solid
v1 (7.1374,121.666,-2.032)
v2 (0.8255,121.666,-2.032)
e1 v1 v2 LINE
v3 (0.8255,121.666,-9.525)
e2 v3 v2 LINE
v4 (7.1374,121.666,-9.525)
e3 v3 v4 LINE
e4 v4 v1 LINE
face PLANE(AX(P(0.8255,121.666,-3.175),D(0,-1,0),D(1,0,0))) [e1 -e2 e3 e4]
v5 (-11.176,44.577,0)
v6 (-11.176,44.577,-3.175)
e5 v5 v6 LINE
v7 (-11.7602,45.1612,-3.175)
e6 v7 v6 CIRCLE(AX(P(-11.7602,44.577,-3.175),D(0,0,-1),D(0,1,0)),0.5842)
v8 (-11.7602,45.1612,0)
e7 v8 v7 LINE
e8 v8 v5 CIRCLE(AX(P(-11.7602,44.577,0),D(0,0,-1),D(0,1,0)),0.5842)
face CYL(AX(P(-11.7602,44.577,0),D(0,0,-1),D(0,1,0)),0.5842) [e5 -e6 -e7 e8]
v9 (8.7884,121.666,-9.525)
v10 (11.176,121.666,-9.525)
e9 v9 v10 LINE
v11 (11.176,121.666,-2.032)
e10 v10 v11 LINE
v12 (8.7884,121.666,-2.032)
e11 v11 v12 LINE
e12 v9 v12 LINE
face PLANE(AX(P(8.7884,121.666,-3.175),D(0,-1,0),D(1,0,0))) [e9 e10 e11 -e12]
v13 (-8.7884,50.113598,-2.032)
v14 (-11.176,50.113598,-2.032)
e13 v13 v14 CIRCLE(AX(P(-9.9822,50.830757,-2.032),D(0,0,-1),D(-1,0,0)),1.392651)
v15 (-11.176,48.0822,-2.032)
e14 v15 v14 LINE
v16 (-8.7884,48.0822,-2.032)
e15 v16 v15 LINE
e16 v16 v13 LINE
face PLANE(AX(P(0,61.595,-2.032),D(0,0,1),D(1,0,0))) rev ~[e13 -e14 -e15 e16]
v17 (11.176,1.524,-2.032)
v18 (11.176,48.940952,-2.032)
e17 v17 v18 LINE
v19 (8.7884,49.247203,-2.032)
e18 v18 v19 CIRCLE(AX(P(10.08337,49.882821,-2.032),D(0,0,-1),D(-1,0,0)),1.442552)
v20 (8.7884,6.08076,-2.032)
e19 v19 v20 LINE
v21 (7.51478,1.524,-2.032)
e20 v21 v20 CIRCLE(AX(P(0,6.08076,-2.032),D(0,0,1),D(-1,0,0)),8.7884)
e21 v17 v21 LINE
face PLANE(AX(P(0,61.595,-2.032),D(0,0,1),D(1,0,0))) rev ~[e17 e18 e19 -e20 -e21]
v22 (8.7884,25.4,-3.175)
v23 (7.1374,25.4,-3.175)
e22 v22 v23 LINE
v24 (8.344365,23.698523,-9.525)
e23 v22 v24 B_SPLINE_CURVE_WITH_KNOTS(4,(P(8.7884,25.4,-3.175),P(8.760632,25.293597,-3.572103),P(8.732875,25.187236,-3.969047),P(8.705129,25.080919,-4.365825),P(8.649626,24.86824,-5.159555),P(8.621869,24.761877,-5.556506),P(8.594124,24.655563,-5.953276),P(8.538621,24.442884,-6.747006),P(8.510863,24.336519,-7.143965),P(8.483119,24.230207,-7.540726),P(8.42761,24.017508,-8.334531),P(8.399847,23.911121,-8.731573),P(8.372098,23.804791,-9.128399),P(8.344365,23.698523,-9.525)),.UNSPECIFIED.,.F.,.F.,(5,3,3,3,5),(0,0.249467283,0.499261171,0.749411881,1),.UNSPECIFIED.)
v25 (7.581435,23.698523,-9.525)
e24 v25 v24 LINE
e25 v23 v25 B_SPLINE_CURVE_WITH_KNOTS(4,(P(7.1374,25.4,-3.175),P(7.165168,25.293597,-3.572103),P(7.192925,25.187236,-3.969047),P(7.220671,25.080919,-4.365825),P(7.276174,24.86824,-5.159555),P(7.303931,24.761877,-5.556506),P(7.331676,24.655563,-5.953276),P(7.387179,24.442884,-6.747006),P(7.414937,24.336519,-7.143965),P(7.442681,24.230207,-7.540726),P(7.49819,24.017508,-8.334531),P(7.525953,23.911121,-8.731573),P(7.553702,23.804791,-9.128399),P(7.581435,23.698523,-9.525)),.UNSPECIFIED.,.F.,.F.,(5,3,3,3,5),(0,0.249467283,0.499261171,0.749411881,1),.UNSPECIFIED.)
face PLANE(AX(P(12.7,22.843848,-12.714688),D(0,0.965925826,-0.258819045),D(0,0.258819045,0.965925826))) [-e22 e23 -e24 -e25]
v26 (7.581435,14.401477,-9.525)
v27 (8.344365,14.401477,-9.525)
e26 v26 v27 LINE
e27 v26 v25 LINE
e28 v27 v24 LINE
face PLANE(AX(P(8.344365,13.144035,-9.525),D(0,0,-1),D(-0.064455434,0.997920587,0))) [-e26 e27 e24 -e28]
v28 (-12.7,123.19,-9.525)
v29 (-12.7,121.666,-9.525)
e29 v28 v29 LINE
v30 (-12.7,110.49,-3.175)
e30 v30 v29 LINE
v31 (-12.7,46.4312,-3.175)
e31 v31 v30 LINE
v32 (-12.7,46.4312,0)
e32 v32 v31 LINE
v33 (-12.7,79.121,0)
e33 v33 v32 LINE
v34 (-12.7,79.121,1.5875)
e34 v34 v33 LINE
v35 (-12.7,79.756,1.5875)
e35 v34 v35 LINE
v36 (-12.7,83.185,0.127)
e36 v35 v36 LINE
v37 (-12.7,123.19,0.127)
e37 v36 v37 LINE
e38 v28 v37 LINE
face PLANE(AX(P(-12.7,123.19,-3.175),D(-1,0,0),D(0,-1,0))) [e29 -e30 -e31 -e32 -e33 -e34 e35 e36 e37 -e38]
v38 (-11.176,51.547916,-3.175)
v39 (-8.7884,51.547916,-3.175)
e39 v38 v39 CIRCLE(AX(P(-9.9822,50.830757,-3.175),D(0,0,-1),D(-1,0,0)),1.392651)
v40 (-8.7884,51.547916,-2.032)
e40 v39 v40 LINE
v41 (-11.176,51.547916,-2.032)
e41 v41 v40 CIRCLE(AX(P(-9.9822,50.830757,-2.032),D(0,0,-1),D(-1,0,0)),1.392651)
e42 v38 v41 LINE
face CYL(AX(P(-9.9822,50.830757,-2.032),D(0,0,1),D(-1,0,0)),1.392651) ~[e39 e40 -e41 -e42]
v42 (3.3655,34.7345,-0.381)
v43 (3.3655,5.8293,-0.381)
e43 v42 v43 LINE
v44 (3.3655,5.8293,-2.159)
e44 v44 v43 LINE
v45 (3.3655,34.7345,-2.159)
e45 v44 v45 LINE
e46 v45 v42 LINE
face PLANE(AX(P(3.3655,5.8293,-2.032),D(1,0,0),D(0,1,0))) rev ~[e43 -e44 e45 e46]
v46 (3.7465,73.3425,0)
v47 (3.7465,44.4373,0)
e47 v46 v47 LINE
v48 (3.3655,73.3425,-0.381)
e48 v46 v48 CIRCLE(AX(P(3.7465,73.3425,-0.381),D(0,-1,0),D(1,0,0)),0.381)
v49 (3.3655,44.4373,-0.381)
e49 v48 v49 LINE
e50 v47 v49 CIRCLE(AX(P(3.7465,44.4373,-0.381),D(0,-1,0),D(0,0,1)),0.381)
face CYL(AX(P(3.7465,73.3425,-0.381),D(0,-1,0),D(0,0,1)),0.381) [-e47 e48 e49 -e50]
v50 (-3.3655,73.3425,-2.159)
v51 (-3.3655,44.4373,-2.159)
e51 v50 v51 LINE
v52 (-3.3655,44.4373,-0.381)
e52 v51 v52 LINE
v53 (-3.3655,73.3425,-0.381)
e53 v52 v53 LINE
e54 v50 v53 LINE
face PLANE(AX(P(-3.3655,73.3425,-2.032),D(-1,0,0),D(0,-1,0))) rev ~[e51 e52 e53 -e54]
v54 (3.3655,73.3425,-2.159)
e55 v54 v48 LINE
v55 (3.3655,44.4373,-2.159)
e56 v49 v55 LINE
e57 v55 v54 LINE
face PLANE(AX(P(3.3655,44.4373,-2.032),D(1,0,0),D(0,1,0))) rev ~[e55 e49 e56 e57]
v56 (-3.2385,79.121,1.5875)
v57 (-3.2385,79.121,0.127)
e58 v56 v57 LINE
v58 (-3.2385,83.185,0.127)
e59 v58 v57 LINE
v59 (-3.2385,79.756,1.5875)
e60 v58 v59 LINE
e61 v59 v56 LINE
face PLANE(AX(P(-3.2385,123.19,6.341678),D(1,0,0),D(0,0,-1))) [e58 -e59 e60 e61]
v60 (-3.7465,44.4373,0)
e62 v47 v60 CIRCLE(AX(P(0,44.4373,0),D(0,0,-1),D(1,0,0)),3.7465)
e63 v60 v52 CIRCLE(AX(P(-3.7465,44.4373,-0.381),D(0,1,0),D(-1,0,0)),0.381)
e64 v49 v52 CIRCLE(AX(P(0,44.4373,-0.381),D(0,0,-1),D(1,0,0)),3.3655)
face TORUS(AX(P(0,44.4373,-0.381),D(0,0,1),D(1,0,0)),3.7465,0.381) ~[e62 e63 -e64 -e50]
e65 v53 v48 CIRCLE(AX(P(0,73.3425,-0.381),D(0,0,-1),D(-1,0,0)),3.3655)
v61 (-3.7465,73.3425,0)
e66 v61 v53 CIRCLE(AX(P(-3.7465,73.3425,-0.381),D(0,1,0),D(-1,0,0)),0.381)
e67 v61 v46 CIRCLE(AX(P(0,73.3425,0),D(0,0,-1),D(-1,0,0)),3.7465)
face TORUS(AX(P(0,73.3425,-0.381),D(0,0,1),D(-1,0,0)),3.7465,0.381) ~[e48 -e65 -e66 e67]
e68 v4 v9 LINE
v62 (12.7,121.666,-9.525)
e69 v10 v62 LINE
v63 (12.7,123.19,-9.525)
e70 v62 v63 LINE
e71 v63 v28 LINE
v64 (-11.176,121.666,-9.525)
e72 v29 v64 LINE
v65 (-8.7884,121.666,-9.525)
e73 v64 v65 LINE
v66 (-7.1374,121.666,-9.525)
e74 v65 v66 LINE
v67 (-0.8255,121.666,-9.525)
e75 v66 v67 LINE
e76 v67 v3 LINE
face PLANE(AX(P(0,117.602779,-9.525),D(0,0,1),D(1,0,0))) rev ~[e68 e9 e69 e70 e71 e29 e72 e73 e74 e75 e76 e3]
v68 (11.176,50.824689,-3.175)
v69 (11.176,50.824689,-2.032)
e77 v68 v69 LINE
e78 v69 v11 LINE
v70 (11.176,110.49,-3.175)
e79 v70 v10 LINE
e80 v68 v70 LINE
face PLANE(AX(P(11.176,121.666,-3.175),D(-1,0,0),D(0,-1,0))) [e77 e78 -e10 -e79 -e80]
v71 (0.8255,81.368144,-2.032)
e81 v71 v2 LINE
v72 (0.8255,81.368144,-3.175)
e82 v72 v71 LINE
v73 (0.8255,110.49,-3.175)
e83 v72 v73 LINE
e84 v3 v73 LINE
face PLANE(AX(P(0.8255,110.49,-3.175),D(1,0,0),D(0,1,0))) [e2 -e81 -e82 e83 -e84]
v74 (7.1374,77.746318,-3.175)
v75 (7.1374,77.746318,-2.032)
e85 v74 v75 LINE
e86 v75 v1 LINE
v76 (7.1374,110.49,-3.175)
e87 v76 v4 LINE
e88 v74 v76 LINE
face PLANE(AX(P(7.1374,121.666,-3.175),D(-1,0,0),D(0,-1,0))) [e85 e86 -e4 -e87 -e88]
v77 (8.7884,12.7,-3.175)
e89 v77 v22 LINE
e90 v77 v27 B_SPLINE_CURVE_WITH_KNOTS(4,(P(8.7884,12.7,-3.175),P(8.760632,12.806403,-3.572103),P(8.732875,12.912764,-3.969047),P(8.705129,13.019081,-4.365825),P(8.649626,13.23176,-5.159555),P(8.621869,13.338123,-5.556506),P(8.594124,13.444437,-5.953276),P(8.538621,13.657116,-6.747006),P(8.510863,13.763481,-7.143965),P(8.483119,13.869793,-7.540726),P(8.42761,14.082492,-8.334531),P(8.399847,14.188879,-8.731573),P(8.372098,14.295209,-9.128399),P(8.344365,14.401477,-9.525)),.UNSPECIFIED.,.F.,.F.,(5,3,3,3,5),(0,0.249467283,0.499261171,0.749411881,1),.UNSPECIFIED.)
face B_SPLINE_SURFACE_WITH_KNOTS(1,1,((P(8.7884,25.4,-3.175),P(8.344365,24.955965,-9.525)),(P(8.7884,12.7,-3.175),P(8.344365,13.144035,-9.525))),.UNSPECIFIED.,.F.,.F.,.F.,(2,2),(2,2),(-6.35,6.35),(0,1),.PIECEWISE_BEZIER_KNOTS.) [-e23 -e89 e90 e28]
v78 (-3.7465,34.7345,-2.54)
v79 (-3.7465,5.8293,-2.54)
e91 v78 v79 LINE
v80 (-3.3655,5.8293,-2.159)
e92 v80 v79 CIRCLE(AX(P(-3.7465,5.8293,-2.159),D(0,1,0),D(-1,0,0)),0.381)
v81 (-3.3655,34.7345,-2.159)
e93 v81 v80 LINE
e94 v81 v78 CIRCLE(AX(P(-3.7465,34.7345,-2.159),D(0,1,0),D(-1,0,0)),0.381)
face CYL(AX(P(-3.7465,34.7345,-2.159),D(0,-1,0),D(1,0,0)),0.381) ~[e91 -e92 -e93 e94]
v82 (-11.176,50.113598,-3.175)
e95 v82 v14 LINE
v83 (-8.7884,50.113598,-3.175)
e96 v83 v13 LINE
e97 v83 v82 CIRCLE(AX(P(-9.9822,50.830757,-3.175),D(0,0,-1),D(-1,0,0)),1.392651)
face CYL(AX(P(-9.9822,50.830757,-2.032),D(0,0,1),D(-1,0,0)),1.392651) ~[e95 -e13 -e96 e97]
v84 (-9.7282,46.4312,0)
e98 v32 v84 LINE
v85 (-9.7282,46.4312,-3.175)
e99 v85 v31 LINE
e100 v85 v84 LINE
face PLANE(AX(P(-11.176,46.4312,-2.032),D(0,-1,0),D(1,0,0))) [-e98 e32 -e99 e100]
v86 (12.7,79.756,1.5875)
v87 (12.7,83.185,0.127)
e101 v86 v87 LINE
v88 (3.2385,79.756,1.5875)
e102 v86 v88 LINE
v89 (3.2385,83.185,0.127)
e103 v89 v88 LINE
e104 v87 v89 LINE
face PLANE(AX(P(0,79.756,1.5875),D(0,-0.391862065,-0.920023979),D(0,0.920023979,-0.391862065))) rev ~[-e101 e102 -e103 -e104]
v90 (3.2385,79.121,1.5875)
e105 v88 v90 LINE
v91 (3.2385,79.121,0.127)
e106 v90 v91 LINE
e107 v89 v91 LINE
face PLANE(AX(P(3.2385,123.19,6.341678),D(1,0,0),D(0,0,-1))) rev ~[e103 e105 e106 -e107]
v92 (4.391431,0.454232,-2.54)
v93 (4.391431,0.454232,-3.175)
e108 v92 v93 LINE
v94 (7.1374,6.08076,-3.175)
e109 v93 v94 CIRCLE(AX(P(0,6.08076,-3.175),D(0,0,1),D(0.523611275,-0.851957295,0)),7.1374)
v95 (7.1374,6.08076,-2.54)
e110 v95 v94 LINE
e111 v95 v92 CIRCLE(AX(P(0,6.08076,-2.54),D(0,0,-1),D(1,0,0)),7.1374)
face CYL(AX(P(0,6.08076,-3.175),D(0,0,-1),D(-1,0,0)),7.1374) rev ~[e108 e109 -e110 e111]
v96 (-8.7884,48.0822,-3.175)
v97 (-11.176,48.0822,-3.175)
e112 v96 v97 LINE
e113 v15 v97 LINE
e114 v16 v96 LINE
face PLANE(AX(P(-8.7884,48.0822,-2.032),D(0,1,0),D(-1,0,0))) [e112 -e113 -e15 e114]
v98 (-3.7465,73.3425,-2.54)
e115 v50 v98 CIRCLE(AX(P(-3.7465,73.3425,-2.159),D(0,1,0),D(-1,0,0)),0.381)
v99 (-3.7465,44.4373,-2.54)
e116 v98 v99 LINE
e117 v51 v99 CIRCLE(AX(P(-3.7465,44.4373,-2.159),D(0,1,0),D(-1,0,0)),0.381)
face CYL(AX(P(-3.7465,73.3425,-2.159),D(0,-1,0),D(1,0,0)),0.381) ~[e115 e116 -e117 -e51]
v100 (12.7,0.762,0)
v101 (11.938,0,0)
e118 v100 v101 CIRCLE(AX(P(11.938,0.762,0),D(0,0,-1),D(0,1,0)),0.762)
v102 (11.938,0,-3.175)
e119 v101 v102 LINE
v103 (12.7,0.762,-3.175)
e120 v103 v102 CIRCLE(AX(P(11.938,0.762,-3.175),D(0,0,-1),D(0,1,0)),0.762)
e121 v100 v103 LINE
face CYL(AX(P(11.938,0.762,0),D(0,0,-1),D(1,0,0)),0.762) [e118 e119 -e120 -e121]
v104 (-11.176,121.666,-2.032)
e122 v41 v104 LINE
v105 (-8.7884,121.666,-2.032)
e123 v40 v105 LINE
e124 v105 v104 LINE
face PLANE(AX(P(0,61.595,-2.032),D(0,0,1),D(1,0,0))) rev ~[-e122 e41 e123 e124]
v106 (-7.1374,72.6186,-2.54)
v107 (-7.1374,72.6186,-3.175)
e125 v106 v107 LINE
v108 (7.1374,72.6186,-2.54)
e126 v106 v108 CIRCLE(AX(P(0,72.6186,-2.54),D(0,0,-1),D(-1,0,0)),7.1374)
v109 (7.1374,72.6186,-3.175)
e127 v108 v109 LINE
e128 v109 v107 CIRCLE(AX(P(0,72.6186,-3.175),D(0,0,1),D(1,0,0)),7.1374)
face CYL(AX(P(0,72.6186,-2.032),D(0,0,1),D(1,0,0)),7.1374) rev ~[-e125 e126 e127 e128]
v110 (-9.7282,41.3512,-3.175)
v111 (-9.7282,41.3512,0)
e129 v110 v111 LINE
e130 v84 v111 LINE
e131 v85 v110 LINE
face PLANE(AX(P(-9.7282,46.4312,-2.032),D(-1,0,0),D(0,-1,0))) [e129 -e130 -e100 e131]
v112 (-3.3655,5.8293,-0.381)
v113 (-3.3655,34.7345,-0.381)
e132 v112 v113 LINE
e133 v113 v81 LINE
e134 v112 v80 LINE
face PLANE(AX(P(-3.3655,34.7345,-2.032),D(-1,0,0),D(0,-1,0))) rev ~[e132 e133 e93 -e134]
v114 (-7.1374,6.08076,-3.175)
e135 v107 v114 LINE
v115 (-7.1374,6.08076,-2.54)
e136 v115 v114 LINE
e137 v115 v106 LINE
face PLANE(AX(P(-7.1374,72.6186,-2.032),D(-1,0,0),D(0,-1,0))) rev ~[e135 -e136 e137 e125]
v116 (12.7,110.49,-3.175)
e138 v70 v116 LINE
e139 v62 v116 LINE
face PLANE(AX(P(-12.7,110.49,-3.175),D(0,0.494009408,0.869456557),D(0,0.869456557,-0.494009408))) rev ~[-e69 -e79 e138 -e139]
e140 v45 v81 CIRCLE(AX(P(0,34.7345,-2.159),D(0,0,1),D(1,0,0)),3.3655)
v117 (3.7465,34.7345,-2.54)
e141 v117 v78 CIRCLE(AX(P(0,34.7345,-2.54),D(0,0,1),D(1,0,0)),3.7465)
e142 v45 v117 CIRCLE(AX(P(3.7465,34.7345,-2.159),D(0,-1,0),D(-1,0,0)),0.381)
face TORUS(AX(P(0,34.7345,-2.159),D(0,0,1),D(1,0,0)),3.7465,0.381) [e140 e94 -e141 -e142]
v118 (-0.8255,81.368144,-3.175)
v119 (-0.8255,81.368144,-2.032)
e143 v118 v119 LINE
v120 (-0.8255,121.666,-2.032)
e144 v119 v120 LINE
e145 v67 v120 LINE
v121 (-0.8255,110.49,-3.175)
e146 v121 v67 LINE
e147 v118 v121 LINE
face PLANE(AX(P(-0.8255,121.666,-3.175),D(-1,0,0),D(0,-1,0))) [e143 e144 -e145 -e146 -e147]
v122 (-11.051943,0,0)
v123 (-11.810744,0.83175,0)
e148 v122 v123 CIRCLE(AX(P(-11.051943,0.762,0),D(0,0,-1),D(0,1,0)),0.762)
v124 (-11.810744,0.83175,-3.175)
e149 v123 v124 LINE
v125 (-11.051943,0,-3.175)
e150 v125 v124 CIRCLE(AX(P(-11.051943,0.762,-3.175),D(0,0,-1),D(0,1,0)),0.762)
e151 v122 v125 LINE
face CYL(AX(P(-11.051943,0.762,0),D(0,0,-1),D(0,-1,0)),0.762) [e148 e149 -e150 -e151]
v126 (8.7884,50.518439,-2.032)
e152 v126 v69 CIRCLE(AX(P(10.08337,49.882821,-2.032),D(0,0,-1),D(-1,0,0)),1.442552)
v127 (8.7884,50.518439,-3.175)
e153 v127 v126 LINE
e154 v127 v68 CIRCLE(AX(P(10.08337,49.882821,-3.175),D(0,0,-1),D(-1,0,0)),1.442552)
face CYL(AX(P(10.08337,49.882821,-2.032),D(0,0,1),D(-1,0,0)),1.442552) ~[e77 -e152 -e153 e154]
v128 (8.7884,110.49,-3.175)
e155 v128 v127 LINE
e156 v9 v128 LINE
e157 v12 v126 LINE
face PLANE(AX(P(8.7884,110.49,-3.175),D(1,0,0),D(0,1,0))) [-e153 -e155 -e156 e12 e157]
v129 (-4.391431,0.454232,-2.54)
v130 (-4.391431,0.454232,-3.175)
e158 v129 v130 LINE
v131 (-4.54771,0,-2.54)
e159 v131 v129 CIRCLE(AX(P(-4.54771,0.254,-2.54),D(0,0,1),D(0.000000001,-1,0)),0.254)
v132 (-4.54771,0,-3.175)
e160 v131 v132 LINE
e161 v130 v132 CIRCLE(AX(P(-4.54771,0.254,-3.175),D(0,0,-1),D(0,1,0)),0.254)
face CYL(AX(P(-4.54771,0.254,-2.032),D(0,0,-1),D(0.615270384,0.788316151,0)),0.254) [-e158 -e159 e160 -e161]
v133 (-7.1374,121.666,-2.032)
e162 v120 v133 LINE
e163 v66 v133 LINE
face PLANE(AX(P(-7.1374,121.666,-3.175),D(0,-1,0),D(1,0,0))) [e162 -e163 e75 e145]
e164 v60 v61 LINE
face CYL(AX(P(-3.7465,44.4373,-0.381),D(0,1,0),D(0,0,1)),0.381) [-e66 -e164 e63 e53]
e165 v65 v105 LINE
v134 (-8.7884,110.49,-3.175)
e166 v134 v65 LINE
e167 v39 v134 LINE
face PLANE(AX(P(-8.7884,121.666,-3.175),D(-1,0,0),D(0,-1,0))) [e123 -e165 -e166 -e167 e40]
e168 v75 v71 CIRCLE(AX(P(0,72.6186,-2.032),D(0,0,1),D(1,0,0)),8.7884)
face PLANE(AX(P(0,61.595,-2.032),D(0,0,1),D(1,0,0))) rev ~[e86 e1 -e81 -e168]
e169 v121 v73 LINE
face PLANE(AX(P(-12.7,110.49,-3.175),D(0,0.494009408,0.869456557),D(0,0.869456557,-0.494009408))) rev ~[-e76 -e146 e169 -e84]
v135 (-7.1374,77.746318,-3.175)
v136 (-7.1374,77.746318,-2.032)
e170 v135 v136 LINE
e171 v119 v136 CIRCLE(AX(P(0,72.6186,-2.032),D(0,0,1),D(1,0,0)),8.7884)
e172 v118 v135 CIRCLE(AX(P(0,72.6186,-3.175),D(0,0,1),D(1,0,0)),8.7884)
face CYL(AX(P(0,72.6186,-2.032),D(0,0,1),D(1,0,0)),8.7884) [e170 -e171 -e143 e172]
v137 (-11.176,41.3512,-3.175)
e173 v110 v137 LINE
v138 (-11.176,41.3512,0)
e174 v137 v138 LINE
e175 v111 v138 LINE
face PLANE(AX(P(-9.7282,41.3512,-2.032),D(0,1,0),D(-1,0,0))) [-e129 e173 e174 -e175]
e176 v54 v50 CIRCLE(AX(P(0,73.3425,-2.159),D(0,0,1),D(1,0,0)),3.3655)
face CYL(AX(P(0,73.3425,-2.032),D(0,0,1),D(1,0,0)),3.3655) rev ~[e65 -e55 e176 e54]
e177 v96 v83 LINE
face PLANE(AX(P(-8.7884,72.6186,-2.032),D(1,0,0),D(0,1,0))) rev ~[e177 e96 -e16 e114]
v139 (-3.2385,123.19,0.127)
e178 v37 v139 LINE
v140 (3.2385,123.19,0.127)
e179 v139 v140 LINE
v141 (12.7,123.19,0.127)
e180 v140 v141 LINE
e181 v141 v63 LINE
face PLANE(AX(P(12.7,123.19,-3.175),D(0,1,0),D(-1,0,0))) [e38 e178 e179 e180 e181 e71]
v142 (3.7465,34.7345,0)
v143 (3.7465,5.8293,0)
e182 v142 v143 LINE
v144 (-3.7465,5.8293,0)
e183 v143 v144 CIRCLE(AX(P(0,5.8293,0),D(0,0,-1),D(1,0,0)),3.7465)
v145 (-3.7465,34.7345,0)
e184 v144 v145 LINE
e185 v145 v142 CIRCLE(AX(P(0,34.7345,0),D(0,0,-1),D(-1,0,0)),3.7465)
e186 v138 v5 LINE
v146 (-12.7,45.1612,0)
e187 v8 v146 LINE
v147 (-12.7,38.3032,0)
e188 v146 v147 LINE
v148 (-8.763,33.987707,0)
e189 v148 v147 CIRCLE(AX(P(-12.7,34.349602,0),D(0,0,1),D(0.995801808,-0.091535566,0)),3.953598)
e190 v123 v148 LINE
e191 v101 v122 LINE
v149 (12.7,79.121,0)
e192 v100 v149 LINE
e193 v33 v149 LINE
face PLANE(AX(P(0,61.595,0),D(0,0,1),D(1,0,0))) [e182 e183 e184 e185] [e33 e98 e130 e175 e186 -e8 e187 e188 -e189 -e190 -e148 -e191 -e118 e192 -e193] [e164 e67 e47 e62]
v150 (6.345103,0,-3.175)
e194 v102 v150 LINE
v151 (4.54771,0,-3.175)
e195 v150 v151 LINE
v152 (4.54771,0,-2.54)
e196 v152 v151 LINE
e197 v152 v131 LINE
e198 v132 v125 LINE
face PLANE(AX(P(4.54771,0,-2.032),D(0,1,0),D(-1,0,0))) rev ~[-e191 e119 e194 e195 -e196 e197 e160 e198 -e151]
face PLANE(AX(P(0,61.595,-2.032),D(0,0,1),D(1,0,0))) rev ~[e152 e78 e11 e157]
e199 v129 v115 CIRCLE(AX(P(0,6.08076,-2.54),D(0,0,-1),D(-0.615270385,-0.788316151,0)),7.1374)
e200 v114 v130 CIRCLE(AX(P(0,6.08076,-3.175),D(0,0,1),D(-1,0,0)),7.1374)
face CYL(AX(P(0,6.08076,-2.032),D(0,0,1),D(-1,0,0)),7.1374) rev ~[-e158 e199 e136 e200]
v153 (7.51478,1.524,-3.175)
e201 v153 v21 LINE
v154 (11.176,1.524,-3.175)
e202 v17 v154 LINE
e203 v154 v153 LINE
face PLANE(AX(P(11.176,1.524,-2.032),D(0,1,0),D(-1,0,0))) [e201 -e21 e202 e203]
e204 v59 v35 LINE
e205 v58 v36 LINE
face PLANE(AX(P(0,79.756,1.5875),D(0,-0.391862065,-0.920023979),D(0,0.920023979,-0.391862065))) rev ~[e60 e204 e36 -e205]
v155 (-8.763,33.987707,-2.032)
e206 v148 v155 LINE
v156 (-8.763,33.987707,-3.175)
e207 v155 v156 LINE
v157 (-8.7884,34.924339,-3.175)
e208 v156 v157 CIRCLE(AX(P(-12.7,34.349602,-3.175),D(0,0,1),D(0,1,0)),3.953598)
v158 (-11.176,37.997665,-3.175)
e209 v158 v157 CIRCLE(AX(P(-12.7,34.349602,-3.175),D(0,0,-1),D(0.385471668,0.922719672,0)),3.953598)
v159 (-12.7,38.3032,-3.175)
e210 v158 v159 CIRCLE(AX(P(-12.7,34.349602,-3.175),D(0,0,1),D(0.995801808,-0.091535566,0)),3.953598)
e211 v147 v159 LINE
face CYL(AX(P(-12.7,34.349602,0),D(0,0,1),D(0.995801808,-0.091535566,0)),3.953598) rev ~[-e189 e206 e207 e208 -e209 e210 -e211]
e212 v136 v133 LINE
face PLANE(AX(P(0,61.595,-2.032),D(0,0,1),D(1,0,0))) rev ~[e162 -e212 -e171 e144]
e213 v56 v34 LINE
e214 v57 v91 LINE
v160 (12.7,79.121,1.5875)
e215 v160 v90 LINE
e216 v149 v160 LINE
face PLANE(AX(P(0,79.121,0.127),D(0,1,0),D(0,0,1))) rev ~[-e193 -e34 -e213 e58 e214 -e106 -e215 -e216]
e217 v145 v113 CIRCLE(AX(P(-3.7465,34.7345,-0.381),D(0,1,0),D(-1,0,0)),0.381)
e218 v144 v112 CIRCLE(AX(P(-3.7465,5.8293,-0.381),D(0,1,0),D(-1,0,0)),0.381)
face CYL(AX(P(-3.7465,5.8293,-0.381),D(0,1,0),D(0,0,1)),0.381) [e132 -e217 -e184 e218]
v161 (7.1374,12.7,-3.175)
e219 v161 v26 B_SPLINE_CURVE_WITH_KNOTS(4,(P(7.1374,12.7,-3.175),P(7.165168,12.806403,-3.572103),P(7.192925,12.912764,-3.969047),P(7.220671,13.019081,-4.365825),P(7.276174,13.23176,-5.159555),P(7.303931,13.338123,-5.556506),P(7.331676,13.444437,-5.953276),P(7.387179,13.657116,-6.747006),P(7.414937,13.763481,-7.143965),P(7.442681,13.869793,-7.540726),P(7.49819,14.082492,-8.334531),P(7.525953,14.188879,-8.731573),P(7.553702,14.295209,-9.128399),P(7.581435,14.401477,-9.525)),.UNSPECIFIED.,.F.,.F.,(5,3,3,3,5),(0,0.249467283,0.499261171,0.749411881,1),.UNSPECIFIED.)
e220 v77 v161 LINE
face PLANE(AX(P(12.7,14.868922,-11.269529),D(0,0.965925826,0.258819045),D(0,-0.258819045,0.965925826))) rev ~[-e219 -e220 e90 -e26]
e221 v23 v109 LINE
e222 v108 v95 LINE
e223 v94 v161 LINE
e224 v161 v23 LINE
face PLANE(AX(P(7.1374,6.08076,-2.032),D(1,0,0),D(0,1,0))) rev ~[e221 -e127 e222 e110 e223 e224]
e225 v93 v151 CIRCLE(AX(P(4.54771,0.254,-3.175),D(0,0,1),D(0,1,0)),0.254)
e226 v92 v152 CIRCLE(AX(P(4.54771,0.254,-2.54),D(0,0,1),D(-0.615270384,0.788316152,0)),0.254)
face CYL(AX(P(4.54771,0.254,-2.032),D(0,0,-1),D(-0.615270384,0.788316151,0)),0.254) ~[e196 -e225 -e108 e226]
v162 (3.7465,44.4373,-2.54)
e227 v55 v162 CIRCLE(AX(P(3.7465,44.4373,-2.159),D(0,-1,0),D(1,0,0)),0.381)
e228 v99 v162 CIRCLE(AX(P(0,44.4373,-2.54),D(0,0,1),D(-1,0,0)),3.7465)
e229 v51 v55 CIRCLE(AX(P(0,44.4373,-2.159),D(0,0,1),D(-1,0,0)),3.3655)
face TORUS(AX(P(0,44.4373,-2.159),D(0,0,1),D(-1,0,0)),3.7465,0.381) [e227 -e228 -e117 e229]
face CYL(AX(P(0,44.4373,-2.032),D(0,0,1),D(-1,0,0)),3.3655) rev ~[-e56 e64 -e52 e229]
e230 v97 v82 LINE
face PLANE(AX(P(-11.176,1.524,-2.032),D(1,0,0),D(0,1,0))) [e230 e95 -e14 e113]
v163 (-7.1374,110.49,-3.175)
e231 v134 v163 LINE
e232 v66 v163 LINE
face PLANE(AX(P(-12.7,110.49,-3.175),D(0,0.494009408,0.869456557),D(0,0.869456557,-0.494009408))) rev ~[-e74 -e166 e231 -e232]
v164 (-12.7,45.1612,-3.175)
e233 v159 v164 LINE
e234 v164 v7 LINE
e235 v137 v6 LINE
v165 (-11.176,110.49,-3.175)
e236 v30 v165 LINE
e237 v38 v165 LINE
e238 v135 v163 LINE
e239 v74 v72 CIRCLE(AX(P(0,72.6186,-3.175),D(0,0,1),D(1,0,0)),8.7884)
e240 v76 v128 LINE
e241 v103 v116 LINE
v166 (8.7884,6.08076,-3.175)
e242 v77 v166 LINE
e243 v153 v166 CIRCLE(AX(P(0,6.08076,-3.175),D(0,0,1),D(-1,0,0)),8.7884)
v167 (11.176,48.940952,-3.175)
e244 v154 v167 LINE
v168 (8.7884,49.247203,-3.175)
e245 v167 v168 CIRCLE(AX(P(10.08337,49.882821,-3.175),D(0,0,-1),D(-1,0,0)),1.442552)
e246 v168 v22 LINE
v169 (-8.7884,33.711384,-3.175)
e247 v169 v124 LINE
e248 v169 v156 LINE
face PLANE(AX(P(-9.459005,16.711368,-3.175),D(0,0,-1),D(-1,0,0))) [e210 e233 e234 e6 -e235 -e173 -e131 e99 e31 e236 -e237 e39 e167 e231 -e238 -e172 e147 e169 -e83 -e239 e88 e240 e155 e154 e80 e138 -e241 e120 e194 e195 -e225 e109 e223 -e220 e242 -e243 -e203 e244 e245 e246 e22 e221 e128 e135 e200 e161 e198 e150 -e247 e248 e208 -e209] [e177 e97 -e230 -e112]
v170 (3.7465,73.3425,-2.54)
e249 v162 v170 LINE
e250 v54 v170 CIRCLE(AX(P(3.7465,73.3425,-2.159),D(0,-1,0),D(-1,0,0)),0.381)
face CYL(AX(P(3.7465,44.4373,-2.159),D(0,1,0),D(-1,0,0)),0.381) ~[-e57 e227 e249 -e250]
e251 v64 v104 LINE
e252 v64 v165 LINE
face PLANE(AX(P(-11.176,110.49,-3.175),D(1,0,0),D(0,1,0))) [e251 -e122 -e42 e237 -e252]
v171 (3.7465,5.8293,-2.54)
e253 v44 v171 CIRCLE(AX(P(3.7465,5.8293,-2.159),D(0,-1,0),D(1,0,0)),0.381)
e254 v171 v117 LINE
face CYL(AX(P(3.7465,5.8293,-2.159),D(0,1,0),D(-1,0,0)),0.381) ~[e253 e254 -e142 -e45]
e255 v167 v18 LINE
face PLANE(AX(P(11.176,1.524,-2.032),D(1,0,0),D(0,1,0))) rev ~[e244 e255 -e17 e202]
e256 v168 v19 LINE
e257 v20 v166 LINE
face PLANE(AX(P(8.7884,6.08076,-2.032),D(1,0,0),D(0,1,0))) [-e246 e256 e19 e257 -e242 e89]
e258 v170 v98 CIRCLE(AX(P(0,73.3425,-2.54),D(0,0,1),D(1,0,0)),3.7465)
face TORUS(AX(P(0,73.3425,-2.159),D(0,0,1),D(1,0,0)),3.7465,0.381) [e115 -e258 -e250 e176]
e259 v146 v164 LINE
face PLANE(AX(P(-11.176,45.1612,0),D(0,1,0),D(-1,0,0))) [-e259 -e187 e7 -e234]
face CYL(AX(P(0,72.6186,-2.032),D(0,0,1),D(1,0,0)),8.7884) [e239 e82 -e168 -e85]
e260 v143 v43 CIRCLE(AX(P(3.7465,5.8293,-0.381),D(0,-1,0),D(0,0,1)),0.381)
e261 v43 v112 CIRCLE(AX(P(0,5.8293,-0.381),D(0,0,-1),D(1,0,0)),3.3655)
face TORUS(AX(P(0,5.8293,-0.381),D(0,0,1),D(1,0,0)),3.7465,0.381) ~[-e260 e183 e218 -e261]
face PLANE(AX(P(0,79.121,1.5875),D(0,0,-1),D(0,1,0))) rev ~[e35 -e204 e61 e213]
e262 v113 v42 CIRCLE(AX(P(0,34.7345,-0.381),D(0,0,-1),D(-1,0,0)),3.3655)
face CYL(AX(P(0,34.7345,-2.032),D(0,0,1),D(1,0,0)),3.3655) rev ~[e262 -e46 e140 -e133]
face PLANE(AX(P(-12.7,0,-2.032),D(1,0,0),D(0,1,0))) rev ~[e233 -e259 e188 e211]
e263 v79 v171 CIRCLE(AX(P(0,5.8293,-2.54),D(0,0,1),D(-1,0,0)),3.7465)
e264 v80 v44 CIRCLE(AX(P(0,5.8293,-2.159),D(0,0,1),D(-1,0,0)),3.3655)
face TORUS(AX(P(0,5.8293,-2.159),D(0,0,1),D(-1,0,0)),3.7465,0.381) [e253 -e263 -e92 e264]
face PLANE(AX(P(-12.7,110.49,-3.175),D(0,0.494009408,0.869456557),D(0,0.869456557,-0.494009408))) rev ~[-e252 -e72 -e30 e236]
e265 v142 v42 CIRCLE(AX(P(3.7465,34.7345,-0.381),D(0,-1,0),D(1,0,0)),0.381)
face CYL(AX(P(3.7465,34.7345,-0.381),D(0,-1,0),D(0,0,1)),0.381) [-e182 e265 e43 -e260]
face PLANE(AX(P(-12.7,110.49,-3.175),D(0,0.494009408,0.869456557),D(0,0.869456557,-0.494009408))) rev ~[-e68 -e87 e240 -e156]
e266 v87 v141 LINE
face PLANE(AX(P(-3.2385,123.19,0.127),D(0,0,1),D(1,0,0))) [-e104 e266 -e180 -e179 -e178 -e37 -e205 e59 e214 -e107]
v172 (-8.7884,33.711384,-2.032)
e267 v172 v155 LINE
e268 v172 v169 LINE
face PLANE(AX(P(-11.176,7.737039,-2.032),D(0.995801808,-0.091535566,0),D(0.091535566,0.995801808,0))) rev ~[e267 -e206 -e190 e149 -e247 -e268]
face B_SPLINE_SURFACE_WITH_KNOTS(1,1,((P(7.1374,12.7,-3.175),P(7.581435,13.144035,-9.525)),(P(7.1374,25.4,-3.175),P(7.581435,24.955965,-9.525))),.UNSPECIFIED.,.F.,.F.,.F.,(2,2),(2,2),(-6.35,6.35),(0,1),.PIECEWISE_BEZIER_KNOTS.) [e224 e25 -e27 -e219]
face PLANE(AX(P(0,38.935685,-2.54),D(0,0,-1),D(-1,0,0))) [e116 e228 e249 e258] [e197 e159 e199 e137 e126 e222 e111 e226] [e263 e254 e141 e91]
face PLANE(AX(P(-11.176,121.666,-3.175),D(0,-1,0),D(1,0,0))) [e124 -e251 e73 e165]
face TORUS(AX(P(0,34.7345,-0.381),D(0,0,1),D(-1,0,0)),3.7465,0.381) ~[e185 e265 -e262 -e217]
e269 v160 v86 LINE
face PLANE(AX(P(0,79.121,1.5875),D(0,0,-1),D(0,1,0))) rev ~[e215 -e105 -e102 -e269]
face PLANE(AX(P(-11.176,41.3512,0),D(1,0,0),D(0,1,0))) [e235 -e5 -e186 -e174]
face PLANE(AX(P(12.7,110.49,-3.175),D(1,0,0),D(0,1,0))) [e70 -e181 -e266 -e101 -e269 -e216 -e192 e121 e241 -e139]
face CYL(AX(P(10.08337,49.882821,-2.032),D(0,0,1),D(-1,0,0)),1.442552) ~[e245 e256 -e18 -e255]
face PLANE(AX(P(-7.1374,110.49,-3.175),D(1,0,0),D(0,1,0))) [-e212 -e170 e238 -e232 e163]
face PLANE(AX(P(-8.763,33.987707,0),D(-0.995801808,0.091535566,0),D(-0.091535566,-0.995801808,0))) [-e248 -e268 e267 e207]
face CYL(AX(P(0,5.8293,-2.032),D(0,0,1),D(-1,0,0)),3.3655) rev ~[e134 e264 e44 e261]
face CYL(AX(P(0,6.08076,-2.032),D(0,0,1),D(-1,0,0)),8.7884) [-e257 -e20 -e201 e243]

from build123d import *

# Parameters (mm, degrees)
SKETCH1_W                       = 25.4
SKETCH1_H                       = 123.19
BOSS_EXTRUDE1_DEPTH             = 2.032
SKETCH2_W                       = 25.4
SKETCH2_H                       = 123.19
SKETCH2_W_2                     = 22.352
SKETCH2_H_2                     = 120.142
EXTRUDE_THIN1_DEPTH             = 1.143
CUT_EXTRUDE1_DEPTH              = 4.175
LPATTERN1_COUNT                 = 2
LPATTERN1_PITCH                 = 38.608
CUT_EXTRUDE2_DEPTH              = 1
CUT_EXTRUDE2_DEPTH_BACK         = 4.175
CUT_EXTRUDE3_DEPTH              = 4.175
BOSS_EXTRUDE2_DEPTH             = 1.143
SKETCH7_W                       = 13.647669968
SKETCH7_H                       = 4.198946773
CUT_EXTRUDE4_DEPTH              = 4.175
SKETCH8_R                       = 7.1374
CUT_EXTRUDE5_DEPTH              = 1.143
FILLET1_R                       = 0.254
BOSS_EXTRUDE3_DEPTH             = 0.508
BOSS_EXTRUDE4_DEPTH             = 1.143
SKETCH11_W                      = 1.651
SKETCH11_H                      = 49.0474
BOSS_EXTRUDE5_DEPTH             = 1.143
SKETCH12_W                      = 1.651
SKETCH12_H                      = 41.14187935
EXTRUDE_THIN4_DEPTH             = 1.143
SKETCH13_R                      = 1.392650684
SKETCH13_R_2                    = 1.442552173
BOSS_EXTRUDE6_DEPTH             = 1.143
BOSS_EXTRUDE7_DEPTH             = 1.143
FILLET2_R                       = 0.381
SKETCH15_W                      = 25.4
SKETCH15_H                      = 44.069
BOSS_EXTRUDE8_DEPTH             = 0.127
BOSS_EXTRUDE9_REACH             = 14.7
BOSS_EXTRUDE9_DIRECTION_2_REACH = 14.7
SKETCH17_W                      = 6.477
SKETCH17_H                      = 6.214678049
CUT_EXTRUDE6_DEPTH              = 124.19
FILLET3_R                       = 0.5842
SKETCH18_W                      = 1.651
SKETCH18_H                      = 12.7
BOSS_EXTRUDE11_DEPTH            = 6.35
BOSS_EXTRUDE11_TAPER            = 4
CUT_EXTRUDE7_DEPTH              = 26.4
FILLET4_R                       = 0.762
CUT_EXTRUDE8_DEPTH              = 2.5875
CUT_EXTRUDE8_DEPTH_BACK         = 10.5250001
BOSS_EXTRUDE12_DEPTH            = 6.35
CUT_EXTRUDE9_DEPTH              = 26.4


with BuildPart() as part:
    # Sketch1 → Boss-Extrude1 (new body)
    with BuildSketch(Plane.XY):
        with Locations((0, 61.595)):
            Rectangle(SKETCH1_W, SKETCH1_H)
    extrude(amount=-BOSS_EXTRUDE1_DEPTH)

    # Sketch2 → Extrude-Thin1 (add)
    with BuildSketch(Plane(origin=(0, 0, -2.032), x_dir=(-1, 0, 0), z_dir=(0, 0, -1))):
        with Locations((0, 61.595)):
            Rectangle(SKETCH2_W, SKETCH2_H)
        with Locations((0, 61.595)):
            Rectangle(SKETCH2_W_2, SKETCH2_H_2, mode=Mode.SUBTRACT)
    extrude(amount=EXTRUDE_THIN1_DEPTH)

    # Sketch3 → Cut-Extrude1 (cut, through all)
    with BuildSketch(Plane.XY):
        with BuildLine():
            Line((3.3655, 34.7345), (3.3655, 5.8293))
            ThreePointArc((3.3655, 5.8293), (0, 2.4638), (-3.3655, 5.8293))
            Line((-3.3655, 5.8293), (-3.3655, 34.7345))
            ThreePointArc((-3.3655, 34.7345), (0, 38.1), (3.3655, 34.7345))
        make_face()
    cut_extrude1 = extrude(amount=-CUT_EXTRUDE1_DEPTH, mode=Mode.SUBTRACT)

    # LPattern1: Cut-Extrude1 ×2
    with Locations(*[(0, i * LPATTERN1_PITCH, 0) for i in range(1, LPATTERN1_COUNT)]):
        add(cut_extrude1, mode=Mode.SUBTRACT)

    # Sketch4 → Cut-Extrude2 (cut, two sides)
    with BuildSketch(Plane.XY) as cut_extrude2_sk:
        with BuildLine():
            Line((-35.799894433, -260.142646751), (-11.8872, 0))
            Line((-11.8872, 0), (-8.763, 33.987707209))
            ThreePointArc((-8.763, 33.987707209), (-9.7792361, 37.014198648), (-12.7, 38.3032))
            Line((-12.7, 38.3032), (-273.939379906, 38.3032))
            Line((-273.939379906, 38.3032), (-682.338410939, -287.571447533))
            Line((-682.338410939, -287.571447533), (-444.198925467, -586.017294284))
            Line((-444.198925467, -586.017294284), (-35.799894433, -260.142646751))
        make_face()
    extrude(amount=CUT_EXTRUDE2_DEPTH, mode=Mode.SUBTRACT)
    extrude(cut_extrude2_sk.sketch, amount=-CUT_EXTRUDE2_DEPTH_BACK, mode=Mode.SUBTRACT)

    # Sketch5 → Cut-Extrude3 (cut, through all)
    with BuildSketch(Plane.XY):
        Polygon((-12.7, 46.4312), (-9.7282, 46.4312), (-9.7282, 41.3512), (-11.176, 41.3512), (-11.176, 45.1612), (-12.7, 45.1612), align=None)
    extrude(amount=-CUT_EXTRUDE3_DEPTH, mode=Mode.SUBTRACT)

    # Sketch6 → Boss-Extrude2 (add)
    with BuildSketch(Plane(origin=(0, 0, -2.032), x_dir=(-1, 0, 0), z_dir=(0, 0, -1))):
        with BuildLine():
            Line((-8.7884, 6.08076), (-8.7884, 72.6186))
            ThreePointArc((-8.7884, 72.6186), (0, 81.407), (8.7884, 72.6186))
            Line((8.7884, 72.6186), (8.7884, 6.08076))
            ThreePointArc((8.7884, 6.08076), (0, -2.70764), (-8.7884, 6.08076))
        make_face()
        with BuildLine():
            Line((-7.1374, 6.08076), (-7.1374, 72.6186))
            ThreePointArc((-7.1374, 72.6186), (0, 79.756), (7.1374, 72.6186))
            Line((7.1374, 72.6186), (7.1374, 6.08076))
            ThreePointArc((7.1374, 6.08076), (0, -1.05664), (-7.1374, 6.08076))
        make_face(mode=Mode.SUBTRACT)
    extrude(amount=BOSS_EXTRUDE2_DEPTH)

    # Sketch7 → Cut-Extrude4 (cut, through all)
    with BuildSketch(Plane(origin=(0, 0, -3.175), x_dir=(-1, 0, 0), z_dir=(0, 0, -1))):
        with Locations((0.47873196, -2.099473387)):
            Rectangle(SKETCH7_W, SKETCH7_H)
    extrude(amount=-CUT_EXTRUDE4_DEPTH, mode=Mode.SUBTRACT)

    # Sketch8 → Cut-Extrude5 (cut)
    with BuildSketch(Plane(origin=(0, 0, -3.175), x_dir=(-1, 0, 0), z_dir=(0, 0, -1))):
        with Locations((0, 6.08076)):
            Circle(SKETCH8_R)
    extrude(amount=-CUT_EXTRUDE5_DEPTH, mode=Mode.SUBTRACT)

    # Fillet1
    fillet1_edges = [part.edges().sort_by_distance(p)[0] for p in [
        (-3.737223111, 0, -2.6035),
        (3.737223111, 0, -2.6035),
    ]]
    fillet(fillet1_edges, radius=FILLET1_R)

    # Sketch9 → Boss-Extrude3 (add)
    with BuildSketch(Plane(origin=(0, 0, -2.032), x_dir=(-1, 0, 0), z_dir=(0, 0, -1))):
        with BuildLine():
            Line((-7.1374, 72.6186), (-7.1374, 6.08076))
            ThreePointArc((-7.1374, 6.08076), (-6.414276157, 2.950338281), (-4.391430841, 0.454232302))
            ThreePointArc((-4.391430841, 0.454232302), (-4.307527291, 0.171365276), (-4.547709518, 0))
            Line((-4.547709518, 0), (4.547709518, 0))
            ThreePointArc((4.547709518, 0), (4.307527291, 0.171365276), (4.391430841, 0.454232302))
            ThreePointArc((4.391430841, 0.454232302), (6.414276157, 2.950338281), (7.1374, 6.08076))
            Line((7.1374, 6.08076), (7.1374, 72.6186))
            ThreePointArc((7.1374, 72.6186), (0, 79.756), (-7.1374, 72.6186))
        make_face()
        with BuildLine():
            Line((3.3655, 34.7345), (3.3655, 5.8293))
            ThreePointArc((3.3655, 5.8293), (0, 2.4638), (-3.3655, 5.8293))
            Line((-3.3655, 5.8293), (-3.3655, 34.7345))
            ThreePointArc((-3.3655, 34.7345), (0, 38.1), (3.3655, 34.7345))
        make_face(mode=Mode.SUBTRACT)
        with BuildLine():
            Line((-3.3655, 44.4373), (-3.3655, 73.3425))
            ThreePointArc((-3.3655, 73.3425), (0, 76.708), (3.3655, 73.3425))
            Line((3.3655, 73.3425), (3.3655, 44.4373))
            ThreePointArc((3.3655, 44.4373), (0, 41.0718), (-3.3655, 44.4373))
        make_face(mode=Mode.SUBTRACT)
    extrude(amount=BOSS_EXTRUDE3_DEPTH)

    # Sketch10 → Boss-Extrude4 (add)
    with BuildSketch(Plane(origin=(0, 0, -2.032), x_dir=(-1, 0, 0), z_dir=(0, 0, -1))):
        with BuildLine():
            Line((8.7884, 34.924338762), (8.7884, 48.0822))
            Line((8.7884, 48.0822), (11.176, 48.0822))
            Line((11.176, 48.0822), (11.176, 46.4312))
            Line((11.176, 46.4312), (9.7282, 46.4312))
            Line((9.7282, 46.4312), (9.7282, 41.3512))
            Line((9.7282, 41.3512), (11.176, 41.3512))
            Line((11.176, 41.3512), (11.176, 37.997664654))
            ThreePointArc((11.176, 37.997664654), (9.577858131, 36.775126106), (8.7884, 34.924338762))
        make_face()
    extrude(amount=BOSS_EXTRUDE4_DEPTH)

    # Sketch11 → Boss-Extrude5 (add)
    with BuildSketch(Plane(origin=(0, 0, -2.032), x_dir=(-1, 0, 0), z_dir=(0, 0, -1))):
        with Locations((7.9629, 97.1423)):
            Rectangle(SKETCH11_W, SKETCH11_H)
        with Locations((-7.9629, 97.1423)):
            Rectangle(SKETCH11_W, SKETCH11_H)
    extrude(amount=BOSS_EXTRUDE5_DEPTH)

    # Sketch12 → Extrude-Thin4 (add)
    with BuildSketch(Plane(origin=(0, 0, -2.032), x_dir=(-1, 0, 0), z_dir=(0, 0, -1))):
        with Locations((0, 101.095060325)):
            Rectangle(SKETCH12_W, SKETCH12_H)
    extrude(amount=EXTRUDE_THIN4_DEPTH)

    # Sketch13 → Boss-Extrude6 (add)
    with BuildSketch(Plane(origin=(0, 0, -2.032), x_dir=(-1, 0, 0), z_dir=(0, 0, -1))):
        with Locations((9.9822, 50.83075695)):
            Circle(SKETCH13_R)
        with Locations((-10.083369757, 49.882820732)):
            Circle(SKETCH13_R_2)
    extrude(amount=BOSS_EXTRUDE6_DEPTH)

    # Sketch14 → Boss-Extrude7 (add)
    with BuildSketch(Plane(origin=(0, 0, -2.032), x_dir=(-1, 0, 0), z_dir=(0, 0, -1))):
        with BuildLine():
            Line((7.514779628, 1.524), (11.176, 1.524))
            Line((11.176, 1.524), (11.176, 7.737039039))
            Line((11.176, 7.737039039), (8.7884, 33.711384386))
            Line((8.7884, 33.711384386), (8.7884, 6.08076))
            ThreePointArc((8.7884, 6.08076), (8.464008029, 3.715058701), (7.514779628, 1.524))
        make_face()
    extrude(amount=BOSS_EXTRUDE7_DEPTH)

    # Fillet2
    fillet2_edges = [part.edges().sort_by_distance(p)[0] for p in [
        (0, 2.4638, -2.54),
        (-3.3655, 20.2819, -2.54),
        (0, 38.1, -2.54),
        (3.3655, 20.2819, -2.54),
        (0, 41.0718, -2.54),
        (-3.3655, 58.8899, -2.54),
        (0, 76.708, -2.54),
        (3.3655, 58.8899, -2.54),
        (0, 38.1, 0),
        (-3.3655, 20.2819, 0),
        (0, 2.4638, 0),
        (3.3655, 20.2819, 0),
        (0, 76.708, 0),
        (-3.3655, 58.8899, 0),
        (0, 41.0718, 0),
        (3.3655, 58.8899, 0),
    ]]
    fillet(fillet2_edges, radius=FILLET2_R)

    # Sketch15 → Boss-Extrude8 (add)
    with BuildSketch(Plane.XY):
        with Locations((0, 101.1555)):
            Rectangle(SKETCH15_W, SKETCH15_H)
    extrude(amount=BOSS_EXTRUDE8_DEPTH)

    # Boss-Extrude9: up to this face of the body (flat: up to its plane)
    boss_extrude9_end = Plane(part.part.faces().sort_by_distance((12.7, 62.153096252, -1.564208664))[0])
    # Sketch16 → Boss-Extrude9 (add, up to the picked face)
    with BuildSketch(Plane(origin=(0, 0, 0), x_dir=(0, 0, -1), z_dir=(1, 0, 0)), mode=Mode.PRIVATE) as boss_extrude9_sk1:
        Polygon((-0.127, 79.121), (-1.5875, 79.121), (-1.5875, 79.756), (-0.127, 83.185), align=None)
    boss_extrude9_tool1 = split(extrude(boss_extrude9_sk1.sketch, amount=BOSS_EXTRUDE9_REACH, mode=Mode.PRIVATE), bisect_by=boss_extrude9_end, keep=Keep.BOTH, mode=Mode.PRIVATE)
    add(boss_extrude9_tool1.solids().sort_by(Axis((0, 80.50427, 0.679622), (1, 0, 0)))[0])

    # Boss-Extrude9 direction 2: up to this face of the body (flat: up to its plane)
    boss_extrude9_direction_2_end = Plane(part.part.faces().sort_by_distance((-12.7, 41.7322, -1.5875))[0])
    # Sketch16 → Boss-Extrude9 direction 2 (add, up to the picked face)
    with BuildSketch(Plane(origin=(0, 0, 0), x_dir=(0, 0, -1), z_dir=(1, 0, 0)), mode=Mode.PRIVATE) as boss_extrude9_direction_2_sk1:
        Polygon((-0.127, 79.121), (-1.5875, 79.121), (-1.5875, 79.756), (-0.127, 83.185), align=None)
    boss_extrude9_direction_2_tool1 = split(extrude(boss_extrude9_direction_2_sk1.sketch, amount=-BOSS_EXTRUDE9_DIRECTION_2_REACH, mode=Mode.PRIVATE), bisect_by=boss_extrude9_direction_2_end, keep=Keep.BOTH, mode=Mode.PRIVATE)
    add(boss_extrude9_direction_2_tool1.solids().sort_by(Axis((0, 80.50427, 0.679622), (-1, 0, 0)))[0])

    # Sketch17 → Cut-Extrude6 (cut, through all)
    with BuildSketch(Plane(origin=(0, 123.19, 0), x_dir=(1, 0, 0), z_dir=(0, 1, 0))):
        with Locations((0, -3.234339025)):
            Rectangle(SKETCH17_W, SKETCH17_H)
    extrude(amount=-CUT_EXTRUDE6_DEPTH, mode=Mode.SUBTRACT)

    # Fillet3
    fillet3_edges = [part.edges().sort_by_distance(p)[0] for p in [
        (-11.176, 45.1612, -1.5875),
    ]]
    fillet(fillet3_edges, radius=FILLET3_R)

    # Sketch18 → Boss-Extrude11 (add)
    with BuildSketch(Plane(origin=(0, 0, -3.175), x_dir=(-1, 0, 0), z_dir=(0, 0, -1))):
        with Locations((-7.9629, 19.05)):
            Rectangle(SKETCH18_W, SKETCH18_H)
    extrude(amount=BOSS_EXTRUDE11_DEPTH, taper=BOSS_EXTRUDE11_TAPER)

    # Sketch19 → Cut-Extrude7 (cut, through all)
    with BuildSketch(Plane(origin=(12.7, 0, 0), x_dir=(0, 0, -1), z_dir=(1, 0, 0))):
        Polygon((3.175, 12.7), (12.912641227, 12.7), (11.269528537, 14.868922385), align=None)
        Polygon((3.175, 25.4), (14.802583639, 25.4), (12.714688167, 22.84384826), align=None)
    extrude(amount=-CUT_EXTRUDE7_DEPTH, mode=Mode.SUBTRACT)

    # Fillet4
    fillet4_edges = [part.edges().sort_by_distance(p)[0] for p in [
        (12.7, 0, -1.5875),
        (-11.8872, 0, -1.5875),
    ]]
    fillet(fillet4_edges, radius=FILLET4_R)

    # Sketch20 → Cut-Extrude8 (cut, two sides)
    with BuildSketch(Plane.XY) as cut_extrude8_sk:
        with BuildLine():
            Line((-272.278187387, 38.3032), (-12.7, 38.3032))
            ThreePointArc((-12.7, 38.3032), (-9.7792361, 37.014198648), (-8.763, 33.987707209))
            Line((-8.763, 33.987707209), (-11.810744308, 0.831750101))
            Line((-11.810744308, 0.831750101), (-35.571380545, -257.656678137))
            Line((-35.571380545, -257.656678137), (-441.005224264, -581.920058487))
            Line((-441.005224264, -581.920058487), (-677.712031106, -285.96018035))
            Line((-677.712031106, -285.96018035), (-272.278187387, 38.3032))
        make_face()
    extrude(amount=CUT_EXTRUDE8_DEPTH, mode=Mode.SUBTRACT)
    extrude(cut_extrude8_sk.sketch, amount=-CUT_EXTRUDE8_DEPTH_BACK, mode=Mode.SUBTRACT)

    # Sketch22 → Boss-Extrude12 (add)
    with BuildSketch(Plane(origin=(0, 0, -3.175), x_dir=(-1, 0, 0), z_dir=(0, 0, -1))):
        Polygon((-12.7, 123.19), (12.7, 123.19), (12.7, 110.49), (11.176, 110.49), (11.176, 121.666), (8.7884, 121.666), (8.7884, 110.49), (7.1374, 110.49), (7.1374, 121.666), (0.8255, 121.666), (0.8255, 110.49), (-0.8255, 110.49), (-0.8255, 121.666), (-7.1374, 121.666), (-7.1374, 110.49), (-8.7884, 110.49), (-8.7884, 121.666), (-11.176, 121.666), (-11.176, 110.49), (-12.7, 110.49), align=None)
    extrude(amount=BOSS_EXTRUDE12_DEPTH)

    # Sketch23 → Cut-Extrude9 (cut, through all)
    with BuildSketch(Plane.ZY.offset(12.7)):
        Polygon((-3.175, 110.49), (-9.525, 121.666), (-9.525, 110.49), align=None)
    extrude(amount=-CUT_EXTRUDE9_DEPTH, mode=Mode.SUBTRACT)


solid = part.part
